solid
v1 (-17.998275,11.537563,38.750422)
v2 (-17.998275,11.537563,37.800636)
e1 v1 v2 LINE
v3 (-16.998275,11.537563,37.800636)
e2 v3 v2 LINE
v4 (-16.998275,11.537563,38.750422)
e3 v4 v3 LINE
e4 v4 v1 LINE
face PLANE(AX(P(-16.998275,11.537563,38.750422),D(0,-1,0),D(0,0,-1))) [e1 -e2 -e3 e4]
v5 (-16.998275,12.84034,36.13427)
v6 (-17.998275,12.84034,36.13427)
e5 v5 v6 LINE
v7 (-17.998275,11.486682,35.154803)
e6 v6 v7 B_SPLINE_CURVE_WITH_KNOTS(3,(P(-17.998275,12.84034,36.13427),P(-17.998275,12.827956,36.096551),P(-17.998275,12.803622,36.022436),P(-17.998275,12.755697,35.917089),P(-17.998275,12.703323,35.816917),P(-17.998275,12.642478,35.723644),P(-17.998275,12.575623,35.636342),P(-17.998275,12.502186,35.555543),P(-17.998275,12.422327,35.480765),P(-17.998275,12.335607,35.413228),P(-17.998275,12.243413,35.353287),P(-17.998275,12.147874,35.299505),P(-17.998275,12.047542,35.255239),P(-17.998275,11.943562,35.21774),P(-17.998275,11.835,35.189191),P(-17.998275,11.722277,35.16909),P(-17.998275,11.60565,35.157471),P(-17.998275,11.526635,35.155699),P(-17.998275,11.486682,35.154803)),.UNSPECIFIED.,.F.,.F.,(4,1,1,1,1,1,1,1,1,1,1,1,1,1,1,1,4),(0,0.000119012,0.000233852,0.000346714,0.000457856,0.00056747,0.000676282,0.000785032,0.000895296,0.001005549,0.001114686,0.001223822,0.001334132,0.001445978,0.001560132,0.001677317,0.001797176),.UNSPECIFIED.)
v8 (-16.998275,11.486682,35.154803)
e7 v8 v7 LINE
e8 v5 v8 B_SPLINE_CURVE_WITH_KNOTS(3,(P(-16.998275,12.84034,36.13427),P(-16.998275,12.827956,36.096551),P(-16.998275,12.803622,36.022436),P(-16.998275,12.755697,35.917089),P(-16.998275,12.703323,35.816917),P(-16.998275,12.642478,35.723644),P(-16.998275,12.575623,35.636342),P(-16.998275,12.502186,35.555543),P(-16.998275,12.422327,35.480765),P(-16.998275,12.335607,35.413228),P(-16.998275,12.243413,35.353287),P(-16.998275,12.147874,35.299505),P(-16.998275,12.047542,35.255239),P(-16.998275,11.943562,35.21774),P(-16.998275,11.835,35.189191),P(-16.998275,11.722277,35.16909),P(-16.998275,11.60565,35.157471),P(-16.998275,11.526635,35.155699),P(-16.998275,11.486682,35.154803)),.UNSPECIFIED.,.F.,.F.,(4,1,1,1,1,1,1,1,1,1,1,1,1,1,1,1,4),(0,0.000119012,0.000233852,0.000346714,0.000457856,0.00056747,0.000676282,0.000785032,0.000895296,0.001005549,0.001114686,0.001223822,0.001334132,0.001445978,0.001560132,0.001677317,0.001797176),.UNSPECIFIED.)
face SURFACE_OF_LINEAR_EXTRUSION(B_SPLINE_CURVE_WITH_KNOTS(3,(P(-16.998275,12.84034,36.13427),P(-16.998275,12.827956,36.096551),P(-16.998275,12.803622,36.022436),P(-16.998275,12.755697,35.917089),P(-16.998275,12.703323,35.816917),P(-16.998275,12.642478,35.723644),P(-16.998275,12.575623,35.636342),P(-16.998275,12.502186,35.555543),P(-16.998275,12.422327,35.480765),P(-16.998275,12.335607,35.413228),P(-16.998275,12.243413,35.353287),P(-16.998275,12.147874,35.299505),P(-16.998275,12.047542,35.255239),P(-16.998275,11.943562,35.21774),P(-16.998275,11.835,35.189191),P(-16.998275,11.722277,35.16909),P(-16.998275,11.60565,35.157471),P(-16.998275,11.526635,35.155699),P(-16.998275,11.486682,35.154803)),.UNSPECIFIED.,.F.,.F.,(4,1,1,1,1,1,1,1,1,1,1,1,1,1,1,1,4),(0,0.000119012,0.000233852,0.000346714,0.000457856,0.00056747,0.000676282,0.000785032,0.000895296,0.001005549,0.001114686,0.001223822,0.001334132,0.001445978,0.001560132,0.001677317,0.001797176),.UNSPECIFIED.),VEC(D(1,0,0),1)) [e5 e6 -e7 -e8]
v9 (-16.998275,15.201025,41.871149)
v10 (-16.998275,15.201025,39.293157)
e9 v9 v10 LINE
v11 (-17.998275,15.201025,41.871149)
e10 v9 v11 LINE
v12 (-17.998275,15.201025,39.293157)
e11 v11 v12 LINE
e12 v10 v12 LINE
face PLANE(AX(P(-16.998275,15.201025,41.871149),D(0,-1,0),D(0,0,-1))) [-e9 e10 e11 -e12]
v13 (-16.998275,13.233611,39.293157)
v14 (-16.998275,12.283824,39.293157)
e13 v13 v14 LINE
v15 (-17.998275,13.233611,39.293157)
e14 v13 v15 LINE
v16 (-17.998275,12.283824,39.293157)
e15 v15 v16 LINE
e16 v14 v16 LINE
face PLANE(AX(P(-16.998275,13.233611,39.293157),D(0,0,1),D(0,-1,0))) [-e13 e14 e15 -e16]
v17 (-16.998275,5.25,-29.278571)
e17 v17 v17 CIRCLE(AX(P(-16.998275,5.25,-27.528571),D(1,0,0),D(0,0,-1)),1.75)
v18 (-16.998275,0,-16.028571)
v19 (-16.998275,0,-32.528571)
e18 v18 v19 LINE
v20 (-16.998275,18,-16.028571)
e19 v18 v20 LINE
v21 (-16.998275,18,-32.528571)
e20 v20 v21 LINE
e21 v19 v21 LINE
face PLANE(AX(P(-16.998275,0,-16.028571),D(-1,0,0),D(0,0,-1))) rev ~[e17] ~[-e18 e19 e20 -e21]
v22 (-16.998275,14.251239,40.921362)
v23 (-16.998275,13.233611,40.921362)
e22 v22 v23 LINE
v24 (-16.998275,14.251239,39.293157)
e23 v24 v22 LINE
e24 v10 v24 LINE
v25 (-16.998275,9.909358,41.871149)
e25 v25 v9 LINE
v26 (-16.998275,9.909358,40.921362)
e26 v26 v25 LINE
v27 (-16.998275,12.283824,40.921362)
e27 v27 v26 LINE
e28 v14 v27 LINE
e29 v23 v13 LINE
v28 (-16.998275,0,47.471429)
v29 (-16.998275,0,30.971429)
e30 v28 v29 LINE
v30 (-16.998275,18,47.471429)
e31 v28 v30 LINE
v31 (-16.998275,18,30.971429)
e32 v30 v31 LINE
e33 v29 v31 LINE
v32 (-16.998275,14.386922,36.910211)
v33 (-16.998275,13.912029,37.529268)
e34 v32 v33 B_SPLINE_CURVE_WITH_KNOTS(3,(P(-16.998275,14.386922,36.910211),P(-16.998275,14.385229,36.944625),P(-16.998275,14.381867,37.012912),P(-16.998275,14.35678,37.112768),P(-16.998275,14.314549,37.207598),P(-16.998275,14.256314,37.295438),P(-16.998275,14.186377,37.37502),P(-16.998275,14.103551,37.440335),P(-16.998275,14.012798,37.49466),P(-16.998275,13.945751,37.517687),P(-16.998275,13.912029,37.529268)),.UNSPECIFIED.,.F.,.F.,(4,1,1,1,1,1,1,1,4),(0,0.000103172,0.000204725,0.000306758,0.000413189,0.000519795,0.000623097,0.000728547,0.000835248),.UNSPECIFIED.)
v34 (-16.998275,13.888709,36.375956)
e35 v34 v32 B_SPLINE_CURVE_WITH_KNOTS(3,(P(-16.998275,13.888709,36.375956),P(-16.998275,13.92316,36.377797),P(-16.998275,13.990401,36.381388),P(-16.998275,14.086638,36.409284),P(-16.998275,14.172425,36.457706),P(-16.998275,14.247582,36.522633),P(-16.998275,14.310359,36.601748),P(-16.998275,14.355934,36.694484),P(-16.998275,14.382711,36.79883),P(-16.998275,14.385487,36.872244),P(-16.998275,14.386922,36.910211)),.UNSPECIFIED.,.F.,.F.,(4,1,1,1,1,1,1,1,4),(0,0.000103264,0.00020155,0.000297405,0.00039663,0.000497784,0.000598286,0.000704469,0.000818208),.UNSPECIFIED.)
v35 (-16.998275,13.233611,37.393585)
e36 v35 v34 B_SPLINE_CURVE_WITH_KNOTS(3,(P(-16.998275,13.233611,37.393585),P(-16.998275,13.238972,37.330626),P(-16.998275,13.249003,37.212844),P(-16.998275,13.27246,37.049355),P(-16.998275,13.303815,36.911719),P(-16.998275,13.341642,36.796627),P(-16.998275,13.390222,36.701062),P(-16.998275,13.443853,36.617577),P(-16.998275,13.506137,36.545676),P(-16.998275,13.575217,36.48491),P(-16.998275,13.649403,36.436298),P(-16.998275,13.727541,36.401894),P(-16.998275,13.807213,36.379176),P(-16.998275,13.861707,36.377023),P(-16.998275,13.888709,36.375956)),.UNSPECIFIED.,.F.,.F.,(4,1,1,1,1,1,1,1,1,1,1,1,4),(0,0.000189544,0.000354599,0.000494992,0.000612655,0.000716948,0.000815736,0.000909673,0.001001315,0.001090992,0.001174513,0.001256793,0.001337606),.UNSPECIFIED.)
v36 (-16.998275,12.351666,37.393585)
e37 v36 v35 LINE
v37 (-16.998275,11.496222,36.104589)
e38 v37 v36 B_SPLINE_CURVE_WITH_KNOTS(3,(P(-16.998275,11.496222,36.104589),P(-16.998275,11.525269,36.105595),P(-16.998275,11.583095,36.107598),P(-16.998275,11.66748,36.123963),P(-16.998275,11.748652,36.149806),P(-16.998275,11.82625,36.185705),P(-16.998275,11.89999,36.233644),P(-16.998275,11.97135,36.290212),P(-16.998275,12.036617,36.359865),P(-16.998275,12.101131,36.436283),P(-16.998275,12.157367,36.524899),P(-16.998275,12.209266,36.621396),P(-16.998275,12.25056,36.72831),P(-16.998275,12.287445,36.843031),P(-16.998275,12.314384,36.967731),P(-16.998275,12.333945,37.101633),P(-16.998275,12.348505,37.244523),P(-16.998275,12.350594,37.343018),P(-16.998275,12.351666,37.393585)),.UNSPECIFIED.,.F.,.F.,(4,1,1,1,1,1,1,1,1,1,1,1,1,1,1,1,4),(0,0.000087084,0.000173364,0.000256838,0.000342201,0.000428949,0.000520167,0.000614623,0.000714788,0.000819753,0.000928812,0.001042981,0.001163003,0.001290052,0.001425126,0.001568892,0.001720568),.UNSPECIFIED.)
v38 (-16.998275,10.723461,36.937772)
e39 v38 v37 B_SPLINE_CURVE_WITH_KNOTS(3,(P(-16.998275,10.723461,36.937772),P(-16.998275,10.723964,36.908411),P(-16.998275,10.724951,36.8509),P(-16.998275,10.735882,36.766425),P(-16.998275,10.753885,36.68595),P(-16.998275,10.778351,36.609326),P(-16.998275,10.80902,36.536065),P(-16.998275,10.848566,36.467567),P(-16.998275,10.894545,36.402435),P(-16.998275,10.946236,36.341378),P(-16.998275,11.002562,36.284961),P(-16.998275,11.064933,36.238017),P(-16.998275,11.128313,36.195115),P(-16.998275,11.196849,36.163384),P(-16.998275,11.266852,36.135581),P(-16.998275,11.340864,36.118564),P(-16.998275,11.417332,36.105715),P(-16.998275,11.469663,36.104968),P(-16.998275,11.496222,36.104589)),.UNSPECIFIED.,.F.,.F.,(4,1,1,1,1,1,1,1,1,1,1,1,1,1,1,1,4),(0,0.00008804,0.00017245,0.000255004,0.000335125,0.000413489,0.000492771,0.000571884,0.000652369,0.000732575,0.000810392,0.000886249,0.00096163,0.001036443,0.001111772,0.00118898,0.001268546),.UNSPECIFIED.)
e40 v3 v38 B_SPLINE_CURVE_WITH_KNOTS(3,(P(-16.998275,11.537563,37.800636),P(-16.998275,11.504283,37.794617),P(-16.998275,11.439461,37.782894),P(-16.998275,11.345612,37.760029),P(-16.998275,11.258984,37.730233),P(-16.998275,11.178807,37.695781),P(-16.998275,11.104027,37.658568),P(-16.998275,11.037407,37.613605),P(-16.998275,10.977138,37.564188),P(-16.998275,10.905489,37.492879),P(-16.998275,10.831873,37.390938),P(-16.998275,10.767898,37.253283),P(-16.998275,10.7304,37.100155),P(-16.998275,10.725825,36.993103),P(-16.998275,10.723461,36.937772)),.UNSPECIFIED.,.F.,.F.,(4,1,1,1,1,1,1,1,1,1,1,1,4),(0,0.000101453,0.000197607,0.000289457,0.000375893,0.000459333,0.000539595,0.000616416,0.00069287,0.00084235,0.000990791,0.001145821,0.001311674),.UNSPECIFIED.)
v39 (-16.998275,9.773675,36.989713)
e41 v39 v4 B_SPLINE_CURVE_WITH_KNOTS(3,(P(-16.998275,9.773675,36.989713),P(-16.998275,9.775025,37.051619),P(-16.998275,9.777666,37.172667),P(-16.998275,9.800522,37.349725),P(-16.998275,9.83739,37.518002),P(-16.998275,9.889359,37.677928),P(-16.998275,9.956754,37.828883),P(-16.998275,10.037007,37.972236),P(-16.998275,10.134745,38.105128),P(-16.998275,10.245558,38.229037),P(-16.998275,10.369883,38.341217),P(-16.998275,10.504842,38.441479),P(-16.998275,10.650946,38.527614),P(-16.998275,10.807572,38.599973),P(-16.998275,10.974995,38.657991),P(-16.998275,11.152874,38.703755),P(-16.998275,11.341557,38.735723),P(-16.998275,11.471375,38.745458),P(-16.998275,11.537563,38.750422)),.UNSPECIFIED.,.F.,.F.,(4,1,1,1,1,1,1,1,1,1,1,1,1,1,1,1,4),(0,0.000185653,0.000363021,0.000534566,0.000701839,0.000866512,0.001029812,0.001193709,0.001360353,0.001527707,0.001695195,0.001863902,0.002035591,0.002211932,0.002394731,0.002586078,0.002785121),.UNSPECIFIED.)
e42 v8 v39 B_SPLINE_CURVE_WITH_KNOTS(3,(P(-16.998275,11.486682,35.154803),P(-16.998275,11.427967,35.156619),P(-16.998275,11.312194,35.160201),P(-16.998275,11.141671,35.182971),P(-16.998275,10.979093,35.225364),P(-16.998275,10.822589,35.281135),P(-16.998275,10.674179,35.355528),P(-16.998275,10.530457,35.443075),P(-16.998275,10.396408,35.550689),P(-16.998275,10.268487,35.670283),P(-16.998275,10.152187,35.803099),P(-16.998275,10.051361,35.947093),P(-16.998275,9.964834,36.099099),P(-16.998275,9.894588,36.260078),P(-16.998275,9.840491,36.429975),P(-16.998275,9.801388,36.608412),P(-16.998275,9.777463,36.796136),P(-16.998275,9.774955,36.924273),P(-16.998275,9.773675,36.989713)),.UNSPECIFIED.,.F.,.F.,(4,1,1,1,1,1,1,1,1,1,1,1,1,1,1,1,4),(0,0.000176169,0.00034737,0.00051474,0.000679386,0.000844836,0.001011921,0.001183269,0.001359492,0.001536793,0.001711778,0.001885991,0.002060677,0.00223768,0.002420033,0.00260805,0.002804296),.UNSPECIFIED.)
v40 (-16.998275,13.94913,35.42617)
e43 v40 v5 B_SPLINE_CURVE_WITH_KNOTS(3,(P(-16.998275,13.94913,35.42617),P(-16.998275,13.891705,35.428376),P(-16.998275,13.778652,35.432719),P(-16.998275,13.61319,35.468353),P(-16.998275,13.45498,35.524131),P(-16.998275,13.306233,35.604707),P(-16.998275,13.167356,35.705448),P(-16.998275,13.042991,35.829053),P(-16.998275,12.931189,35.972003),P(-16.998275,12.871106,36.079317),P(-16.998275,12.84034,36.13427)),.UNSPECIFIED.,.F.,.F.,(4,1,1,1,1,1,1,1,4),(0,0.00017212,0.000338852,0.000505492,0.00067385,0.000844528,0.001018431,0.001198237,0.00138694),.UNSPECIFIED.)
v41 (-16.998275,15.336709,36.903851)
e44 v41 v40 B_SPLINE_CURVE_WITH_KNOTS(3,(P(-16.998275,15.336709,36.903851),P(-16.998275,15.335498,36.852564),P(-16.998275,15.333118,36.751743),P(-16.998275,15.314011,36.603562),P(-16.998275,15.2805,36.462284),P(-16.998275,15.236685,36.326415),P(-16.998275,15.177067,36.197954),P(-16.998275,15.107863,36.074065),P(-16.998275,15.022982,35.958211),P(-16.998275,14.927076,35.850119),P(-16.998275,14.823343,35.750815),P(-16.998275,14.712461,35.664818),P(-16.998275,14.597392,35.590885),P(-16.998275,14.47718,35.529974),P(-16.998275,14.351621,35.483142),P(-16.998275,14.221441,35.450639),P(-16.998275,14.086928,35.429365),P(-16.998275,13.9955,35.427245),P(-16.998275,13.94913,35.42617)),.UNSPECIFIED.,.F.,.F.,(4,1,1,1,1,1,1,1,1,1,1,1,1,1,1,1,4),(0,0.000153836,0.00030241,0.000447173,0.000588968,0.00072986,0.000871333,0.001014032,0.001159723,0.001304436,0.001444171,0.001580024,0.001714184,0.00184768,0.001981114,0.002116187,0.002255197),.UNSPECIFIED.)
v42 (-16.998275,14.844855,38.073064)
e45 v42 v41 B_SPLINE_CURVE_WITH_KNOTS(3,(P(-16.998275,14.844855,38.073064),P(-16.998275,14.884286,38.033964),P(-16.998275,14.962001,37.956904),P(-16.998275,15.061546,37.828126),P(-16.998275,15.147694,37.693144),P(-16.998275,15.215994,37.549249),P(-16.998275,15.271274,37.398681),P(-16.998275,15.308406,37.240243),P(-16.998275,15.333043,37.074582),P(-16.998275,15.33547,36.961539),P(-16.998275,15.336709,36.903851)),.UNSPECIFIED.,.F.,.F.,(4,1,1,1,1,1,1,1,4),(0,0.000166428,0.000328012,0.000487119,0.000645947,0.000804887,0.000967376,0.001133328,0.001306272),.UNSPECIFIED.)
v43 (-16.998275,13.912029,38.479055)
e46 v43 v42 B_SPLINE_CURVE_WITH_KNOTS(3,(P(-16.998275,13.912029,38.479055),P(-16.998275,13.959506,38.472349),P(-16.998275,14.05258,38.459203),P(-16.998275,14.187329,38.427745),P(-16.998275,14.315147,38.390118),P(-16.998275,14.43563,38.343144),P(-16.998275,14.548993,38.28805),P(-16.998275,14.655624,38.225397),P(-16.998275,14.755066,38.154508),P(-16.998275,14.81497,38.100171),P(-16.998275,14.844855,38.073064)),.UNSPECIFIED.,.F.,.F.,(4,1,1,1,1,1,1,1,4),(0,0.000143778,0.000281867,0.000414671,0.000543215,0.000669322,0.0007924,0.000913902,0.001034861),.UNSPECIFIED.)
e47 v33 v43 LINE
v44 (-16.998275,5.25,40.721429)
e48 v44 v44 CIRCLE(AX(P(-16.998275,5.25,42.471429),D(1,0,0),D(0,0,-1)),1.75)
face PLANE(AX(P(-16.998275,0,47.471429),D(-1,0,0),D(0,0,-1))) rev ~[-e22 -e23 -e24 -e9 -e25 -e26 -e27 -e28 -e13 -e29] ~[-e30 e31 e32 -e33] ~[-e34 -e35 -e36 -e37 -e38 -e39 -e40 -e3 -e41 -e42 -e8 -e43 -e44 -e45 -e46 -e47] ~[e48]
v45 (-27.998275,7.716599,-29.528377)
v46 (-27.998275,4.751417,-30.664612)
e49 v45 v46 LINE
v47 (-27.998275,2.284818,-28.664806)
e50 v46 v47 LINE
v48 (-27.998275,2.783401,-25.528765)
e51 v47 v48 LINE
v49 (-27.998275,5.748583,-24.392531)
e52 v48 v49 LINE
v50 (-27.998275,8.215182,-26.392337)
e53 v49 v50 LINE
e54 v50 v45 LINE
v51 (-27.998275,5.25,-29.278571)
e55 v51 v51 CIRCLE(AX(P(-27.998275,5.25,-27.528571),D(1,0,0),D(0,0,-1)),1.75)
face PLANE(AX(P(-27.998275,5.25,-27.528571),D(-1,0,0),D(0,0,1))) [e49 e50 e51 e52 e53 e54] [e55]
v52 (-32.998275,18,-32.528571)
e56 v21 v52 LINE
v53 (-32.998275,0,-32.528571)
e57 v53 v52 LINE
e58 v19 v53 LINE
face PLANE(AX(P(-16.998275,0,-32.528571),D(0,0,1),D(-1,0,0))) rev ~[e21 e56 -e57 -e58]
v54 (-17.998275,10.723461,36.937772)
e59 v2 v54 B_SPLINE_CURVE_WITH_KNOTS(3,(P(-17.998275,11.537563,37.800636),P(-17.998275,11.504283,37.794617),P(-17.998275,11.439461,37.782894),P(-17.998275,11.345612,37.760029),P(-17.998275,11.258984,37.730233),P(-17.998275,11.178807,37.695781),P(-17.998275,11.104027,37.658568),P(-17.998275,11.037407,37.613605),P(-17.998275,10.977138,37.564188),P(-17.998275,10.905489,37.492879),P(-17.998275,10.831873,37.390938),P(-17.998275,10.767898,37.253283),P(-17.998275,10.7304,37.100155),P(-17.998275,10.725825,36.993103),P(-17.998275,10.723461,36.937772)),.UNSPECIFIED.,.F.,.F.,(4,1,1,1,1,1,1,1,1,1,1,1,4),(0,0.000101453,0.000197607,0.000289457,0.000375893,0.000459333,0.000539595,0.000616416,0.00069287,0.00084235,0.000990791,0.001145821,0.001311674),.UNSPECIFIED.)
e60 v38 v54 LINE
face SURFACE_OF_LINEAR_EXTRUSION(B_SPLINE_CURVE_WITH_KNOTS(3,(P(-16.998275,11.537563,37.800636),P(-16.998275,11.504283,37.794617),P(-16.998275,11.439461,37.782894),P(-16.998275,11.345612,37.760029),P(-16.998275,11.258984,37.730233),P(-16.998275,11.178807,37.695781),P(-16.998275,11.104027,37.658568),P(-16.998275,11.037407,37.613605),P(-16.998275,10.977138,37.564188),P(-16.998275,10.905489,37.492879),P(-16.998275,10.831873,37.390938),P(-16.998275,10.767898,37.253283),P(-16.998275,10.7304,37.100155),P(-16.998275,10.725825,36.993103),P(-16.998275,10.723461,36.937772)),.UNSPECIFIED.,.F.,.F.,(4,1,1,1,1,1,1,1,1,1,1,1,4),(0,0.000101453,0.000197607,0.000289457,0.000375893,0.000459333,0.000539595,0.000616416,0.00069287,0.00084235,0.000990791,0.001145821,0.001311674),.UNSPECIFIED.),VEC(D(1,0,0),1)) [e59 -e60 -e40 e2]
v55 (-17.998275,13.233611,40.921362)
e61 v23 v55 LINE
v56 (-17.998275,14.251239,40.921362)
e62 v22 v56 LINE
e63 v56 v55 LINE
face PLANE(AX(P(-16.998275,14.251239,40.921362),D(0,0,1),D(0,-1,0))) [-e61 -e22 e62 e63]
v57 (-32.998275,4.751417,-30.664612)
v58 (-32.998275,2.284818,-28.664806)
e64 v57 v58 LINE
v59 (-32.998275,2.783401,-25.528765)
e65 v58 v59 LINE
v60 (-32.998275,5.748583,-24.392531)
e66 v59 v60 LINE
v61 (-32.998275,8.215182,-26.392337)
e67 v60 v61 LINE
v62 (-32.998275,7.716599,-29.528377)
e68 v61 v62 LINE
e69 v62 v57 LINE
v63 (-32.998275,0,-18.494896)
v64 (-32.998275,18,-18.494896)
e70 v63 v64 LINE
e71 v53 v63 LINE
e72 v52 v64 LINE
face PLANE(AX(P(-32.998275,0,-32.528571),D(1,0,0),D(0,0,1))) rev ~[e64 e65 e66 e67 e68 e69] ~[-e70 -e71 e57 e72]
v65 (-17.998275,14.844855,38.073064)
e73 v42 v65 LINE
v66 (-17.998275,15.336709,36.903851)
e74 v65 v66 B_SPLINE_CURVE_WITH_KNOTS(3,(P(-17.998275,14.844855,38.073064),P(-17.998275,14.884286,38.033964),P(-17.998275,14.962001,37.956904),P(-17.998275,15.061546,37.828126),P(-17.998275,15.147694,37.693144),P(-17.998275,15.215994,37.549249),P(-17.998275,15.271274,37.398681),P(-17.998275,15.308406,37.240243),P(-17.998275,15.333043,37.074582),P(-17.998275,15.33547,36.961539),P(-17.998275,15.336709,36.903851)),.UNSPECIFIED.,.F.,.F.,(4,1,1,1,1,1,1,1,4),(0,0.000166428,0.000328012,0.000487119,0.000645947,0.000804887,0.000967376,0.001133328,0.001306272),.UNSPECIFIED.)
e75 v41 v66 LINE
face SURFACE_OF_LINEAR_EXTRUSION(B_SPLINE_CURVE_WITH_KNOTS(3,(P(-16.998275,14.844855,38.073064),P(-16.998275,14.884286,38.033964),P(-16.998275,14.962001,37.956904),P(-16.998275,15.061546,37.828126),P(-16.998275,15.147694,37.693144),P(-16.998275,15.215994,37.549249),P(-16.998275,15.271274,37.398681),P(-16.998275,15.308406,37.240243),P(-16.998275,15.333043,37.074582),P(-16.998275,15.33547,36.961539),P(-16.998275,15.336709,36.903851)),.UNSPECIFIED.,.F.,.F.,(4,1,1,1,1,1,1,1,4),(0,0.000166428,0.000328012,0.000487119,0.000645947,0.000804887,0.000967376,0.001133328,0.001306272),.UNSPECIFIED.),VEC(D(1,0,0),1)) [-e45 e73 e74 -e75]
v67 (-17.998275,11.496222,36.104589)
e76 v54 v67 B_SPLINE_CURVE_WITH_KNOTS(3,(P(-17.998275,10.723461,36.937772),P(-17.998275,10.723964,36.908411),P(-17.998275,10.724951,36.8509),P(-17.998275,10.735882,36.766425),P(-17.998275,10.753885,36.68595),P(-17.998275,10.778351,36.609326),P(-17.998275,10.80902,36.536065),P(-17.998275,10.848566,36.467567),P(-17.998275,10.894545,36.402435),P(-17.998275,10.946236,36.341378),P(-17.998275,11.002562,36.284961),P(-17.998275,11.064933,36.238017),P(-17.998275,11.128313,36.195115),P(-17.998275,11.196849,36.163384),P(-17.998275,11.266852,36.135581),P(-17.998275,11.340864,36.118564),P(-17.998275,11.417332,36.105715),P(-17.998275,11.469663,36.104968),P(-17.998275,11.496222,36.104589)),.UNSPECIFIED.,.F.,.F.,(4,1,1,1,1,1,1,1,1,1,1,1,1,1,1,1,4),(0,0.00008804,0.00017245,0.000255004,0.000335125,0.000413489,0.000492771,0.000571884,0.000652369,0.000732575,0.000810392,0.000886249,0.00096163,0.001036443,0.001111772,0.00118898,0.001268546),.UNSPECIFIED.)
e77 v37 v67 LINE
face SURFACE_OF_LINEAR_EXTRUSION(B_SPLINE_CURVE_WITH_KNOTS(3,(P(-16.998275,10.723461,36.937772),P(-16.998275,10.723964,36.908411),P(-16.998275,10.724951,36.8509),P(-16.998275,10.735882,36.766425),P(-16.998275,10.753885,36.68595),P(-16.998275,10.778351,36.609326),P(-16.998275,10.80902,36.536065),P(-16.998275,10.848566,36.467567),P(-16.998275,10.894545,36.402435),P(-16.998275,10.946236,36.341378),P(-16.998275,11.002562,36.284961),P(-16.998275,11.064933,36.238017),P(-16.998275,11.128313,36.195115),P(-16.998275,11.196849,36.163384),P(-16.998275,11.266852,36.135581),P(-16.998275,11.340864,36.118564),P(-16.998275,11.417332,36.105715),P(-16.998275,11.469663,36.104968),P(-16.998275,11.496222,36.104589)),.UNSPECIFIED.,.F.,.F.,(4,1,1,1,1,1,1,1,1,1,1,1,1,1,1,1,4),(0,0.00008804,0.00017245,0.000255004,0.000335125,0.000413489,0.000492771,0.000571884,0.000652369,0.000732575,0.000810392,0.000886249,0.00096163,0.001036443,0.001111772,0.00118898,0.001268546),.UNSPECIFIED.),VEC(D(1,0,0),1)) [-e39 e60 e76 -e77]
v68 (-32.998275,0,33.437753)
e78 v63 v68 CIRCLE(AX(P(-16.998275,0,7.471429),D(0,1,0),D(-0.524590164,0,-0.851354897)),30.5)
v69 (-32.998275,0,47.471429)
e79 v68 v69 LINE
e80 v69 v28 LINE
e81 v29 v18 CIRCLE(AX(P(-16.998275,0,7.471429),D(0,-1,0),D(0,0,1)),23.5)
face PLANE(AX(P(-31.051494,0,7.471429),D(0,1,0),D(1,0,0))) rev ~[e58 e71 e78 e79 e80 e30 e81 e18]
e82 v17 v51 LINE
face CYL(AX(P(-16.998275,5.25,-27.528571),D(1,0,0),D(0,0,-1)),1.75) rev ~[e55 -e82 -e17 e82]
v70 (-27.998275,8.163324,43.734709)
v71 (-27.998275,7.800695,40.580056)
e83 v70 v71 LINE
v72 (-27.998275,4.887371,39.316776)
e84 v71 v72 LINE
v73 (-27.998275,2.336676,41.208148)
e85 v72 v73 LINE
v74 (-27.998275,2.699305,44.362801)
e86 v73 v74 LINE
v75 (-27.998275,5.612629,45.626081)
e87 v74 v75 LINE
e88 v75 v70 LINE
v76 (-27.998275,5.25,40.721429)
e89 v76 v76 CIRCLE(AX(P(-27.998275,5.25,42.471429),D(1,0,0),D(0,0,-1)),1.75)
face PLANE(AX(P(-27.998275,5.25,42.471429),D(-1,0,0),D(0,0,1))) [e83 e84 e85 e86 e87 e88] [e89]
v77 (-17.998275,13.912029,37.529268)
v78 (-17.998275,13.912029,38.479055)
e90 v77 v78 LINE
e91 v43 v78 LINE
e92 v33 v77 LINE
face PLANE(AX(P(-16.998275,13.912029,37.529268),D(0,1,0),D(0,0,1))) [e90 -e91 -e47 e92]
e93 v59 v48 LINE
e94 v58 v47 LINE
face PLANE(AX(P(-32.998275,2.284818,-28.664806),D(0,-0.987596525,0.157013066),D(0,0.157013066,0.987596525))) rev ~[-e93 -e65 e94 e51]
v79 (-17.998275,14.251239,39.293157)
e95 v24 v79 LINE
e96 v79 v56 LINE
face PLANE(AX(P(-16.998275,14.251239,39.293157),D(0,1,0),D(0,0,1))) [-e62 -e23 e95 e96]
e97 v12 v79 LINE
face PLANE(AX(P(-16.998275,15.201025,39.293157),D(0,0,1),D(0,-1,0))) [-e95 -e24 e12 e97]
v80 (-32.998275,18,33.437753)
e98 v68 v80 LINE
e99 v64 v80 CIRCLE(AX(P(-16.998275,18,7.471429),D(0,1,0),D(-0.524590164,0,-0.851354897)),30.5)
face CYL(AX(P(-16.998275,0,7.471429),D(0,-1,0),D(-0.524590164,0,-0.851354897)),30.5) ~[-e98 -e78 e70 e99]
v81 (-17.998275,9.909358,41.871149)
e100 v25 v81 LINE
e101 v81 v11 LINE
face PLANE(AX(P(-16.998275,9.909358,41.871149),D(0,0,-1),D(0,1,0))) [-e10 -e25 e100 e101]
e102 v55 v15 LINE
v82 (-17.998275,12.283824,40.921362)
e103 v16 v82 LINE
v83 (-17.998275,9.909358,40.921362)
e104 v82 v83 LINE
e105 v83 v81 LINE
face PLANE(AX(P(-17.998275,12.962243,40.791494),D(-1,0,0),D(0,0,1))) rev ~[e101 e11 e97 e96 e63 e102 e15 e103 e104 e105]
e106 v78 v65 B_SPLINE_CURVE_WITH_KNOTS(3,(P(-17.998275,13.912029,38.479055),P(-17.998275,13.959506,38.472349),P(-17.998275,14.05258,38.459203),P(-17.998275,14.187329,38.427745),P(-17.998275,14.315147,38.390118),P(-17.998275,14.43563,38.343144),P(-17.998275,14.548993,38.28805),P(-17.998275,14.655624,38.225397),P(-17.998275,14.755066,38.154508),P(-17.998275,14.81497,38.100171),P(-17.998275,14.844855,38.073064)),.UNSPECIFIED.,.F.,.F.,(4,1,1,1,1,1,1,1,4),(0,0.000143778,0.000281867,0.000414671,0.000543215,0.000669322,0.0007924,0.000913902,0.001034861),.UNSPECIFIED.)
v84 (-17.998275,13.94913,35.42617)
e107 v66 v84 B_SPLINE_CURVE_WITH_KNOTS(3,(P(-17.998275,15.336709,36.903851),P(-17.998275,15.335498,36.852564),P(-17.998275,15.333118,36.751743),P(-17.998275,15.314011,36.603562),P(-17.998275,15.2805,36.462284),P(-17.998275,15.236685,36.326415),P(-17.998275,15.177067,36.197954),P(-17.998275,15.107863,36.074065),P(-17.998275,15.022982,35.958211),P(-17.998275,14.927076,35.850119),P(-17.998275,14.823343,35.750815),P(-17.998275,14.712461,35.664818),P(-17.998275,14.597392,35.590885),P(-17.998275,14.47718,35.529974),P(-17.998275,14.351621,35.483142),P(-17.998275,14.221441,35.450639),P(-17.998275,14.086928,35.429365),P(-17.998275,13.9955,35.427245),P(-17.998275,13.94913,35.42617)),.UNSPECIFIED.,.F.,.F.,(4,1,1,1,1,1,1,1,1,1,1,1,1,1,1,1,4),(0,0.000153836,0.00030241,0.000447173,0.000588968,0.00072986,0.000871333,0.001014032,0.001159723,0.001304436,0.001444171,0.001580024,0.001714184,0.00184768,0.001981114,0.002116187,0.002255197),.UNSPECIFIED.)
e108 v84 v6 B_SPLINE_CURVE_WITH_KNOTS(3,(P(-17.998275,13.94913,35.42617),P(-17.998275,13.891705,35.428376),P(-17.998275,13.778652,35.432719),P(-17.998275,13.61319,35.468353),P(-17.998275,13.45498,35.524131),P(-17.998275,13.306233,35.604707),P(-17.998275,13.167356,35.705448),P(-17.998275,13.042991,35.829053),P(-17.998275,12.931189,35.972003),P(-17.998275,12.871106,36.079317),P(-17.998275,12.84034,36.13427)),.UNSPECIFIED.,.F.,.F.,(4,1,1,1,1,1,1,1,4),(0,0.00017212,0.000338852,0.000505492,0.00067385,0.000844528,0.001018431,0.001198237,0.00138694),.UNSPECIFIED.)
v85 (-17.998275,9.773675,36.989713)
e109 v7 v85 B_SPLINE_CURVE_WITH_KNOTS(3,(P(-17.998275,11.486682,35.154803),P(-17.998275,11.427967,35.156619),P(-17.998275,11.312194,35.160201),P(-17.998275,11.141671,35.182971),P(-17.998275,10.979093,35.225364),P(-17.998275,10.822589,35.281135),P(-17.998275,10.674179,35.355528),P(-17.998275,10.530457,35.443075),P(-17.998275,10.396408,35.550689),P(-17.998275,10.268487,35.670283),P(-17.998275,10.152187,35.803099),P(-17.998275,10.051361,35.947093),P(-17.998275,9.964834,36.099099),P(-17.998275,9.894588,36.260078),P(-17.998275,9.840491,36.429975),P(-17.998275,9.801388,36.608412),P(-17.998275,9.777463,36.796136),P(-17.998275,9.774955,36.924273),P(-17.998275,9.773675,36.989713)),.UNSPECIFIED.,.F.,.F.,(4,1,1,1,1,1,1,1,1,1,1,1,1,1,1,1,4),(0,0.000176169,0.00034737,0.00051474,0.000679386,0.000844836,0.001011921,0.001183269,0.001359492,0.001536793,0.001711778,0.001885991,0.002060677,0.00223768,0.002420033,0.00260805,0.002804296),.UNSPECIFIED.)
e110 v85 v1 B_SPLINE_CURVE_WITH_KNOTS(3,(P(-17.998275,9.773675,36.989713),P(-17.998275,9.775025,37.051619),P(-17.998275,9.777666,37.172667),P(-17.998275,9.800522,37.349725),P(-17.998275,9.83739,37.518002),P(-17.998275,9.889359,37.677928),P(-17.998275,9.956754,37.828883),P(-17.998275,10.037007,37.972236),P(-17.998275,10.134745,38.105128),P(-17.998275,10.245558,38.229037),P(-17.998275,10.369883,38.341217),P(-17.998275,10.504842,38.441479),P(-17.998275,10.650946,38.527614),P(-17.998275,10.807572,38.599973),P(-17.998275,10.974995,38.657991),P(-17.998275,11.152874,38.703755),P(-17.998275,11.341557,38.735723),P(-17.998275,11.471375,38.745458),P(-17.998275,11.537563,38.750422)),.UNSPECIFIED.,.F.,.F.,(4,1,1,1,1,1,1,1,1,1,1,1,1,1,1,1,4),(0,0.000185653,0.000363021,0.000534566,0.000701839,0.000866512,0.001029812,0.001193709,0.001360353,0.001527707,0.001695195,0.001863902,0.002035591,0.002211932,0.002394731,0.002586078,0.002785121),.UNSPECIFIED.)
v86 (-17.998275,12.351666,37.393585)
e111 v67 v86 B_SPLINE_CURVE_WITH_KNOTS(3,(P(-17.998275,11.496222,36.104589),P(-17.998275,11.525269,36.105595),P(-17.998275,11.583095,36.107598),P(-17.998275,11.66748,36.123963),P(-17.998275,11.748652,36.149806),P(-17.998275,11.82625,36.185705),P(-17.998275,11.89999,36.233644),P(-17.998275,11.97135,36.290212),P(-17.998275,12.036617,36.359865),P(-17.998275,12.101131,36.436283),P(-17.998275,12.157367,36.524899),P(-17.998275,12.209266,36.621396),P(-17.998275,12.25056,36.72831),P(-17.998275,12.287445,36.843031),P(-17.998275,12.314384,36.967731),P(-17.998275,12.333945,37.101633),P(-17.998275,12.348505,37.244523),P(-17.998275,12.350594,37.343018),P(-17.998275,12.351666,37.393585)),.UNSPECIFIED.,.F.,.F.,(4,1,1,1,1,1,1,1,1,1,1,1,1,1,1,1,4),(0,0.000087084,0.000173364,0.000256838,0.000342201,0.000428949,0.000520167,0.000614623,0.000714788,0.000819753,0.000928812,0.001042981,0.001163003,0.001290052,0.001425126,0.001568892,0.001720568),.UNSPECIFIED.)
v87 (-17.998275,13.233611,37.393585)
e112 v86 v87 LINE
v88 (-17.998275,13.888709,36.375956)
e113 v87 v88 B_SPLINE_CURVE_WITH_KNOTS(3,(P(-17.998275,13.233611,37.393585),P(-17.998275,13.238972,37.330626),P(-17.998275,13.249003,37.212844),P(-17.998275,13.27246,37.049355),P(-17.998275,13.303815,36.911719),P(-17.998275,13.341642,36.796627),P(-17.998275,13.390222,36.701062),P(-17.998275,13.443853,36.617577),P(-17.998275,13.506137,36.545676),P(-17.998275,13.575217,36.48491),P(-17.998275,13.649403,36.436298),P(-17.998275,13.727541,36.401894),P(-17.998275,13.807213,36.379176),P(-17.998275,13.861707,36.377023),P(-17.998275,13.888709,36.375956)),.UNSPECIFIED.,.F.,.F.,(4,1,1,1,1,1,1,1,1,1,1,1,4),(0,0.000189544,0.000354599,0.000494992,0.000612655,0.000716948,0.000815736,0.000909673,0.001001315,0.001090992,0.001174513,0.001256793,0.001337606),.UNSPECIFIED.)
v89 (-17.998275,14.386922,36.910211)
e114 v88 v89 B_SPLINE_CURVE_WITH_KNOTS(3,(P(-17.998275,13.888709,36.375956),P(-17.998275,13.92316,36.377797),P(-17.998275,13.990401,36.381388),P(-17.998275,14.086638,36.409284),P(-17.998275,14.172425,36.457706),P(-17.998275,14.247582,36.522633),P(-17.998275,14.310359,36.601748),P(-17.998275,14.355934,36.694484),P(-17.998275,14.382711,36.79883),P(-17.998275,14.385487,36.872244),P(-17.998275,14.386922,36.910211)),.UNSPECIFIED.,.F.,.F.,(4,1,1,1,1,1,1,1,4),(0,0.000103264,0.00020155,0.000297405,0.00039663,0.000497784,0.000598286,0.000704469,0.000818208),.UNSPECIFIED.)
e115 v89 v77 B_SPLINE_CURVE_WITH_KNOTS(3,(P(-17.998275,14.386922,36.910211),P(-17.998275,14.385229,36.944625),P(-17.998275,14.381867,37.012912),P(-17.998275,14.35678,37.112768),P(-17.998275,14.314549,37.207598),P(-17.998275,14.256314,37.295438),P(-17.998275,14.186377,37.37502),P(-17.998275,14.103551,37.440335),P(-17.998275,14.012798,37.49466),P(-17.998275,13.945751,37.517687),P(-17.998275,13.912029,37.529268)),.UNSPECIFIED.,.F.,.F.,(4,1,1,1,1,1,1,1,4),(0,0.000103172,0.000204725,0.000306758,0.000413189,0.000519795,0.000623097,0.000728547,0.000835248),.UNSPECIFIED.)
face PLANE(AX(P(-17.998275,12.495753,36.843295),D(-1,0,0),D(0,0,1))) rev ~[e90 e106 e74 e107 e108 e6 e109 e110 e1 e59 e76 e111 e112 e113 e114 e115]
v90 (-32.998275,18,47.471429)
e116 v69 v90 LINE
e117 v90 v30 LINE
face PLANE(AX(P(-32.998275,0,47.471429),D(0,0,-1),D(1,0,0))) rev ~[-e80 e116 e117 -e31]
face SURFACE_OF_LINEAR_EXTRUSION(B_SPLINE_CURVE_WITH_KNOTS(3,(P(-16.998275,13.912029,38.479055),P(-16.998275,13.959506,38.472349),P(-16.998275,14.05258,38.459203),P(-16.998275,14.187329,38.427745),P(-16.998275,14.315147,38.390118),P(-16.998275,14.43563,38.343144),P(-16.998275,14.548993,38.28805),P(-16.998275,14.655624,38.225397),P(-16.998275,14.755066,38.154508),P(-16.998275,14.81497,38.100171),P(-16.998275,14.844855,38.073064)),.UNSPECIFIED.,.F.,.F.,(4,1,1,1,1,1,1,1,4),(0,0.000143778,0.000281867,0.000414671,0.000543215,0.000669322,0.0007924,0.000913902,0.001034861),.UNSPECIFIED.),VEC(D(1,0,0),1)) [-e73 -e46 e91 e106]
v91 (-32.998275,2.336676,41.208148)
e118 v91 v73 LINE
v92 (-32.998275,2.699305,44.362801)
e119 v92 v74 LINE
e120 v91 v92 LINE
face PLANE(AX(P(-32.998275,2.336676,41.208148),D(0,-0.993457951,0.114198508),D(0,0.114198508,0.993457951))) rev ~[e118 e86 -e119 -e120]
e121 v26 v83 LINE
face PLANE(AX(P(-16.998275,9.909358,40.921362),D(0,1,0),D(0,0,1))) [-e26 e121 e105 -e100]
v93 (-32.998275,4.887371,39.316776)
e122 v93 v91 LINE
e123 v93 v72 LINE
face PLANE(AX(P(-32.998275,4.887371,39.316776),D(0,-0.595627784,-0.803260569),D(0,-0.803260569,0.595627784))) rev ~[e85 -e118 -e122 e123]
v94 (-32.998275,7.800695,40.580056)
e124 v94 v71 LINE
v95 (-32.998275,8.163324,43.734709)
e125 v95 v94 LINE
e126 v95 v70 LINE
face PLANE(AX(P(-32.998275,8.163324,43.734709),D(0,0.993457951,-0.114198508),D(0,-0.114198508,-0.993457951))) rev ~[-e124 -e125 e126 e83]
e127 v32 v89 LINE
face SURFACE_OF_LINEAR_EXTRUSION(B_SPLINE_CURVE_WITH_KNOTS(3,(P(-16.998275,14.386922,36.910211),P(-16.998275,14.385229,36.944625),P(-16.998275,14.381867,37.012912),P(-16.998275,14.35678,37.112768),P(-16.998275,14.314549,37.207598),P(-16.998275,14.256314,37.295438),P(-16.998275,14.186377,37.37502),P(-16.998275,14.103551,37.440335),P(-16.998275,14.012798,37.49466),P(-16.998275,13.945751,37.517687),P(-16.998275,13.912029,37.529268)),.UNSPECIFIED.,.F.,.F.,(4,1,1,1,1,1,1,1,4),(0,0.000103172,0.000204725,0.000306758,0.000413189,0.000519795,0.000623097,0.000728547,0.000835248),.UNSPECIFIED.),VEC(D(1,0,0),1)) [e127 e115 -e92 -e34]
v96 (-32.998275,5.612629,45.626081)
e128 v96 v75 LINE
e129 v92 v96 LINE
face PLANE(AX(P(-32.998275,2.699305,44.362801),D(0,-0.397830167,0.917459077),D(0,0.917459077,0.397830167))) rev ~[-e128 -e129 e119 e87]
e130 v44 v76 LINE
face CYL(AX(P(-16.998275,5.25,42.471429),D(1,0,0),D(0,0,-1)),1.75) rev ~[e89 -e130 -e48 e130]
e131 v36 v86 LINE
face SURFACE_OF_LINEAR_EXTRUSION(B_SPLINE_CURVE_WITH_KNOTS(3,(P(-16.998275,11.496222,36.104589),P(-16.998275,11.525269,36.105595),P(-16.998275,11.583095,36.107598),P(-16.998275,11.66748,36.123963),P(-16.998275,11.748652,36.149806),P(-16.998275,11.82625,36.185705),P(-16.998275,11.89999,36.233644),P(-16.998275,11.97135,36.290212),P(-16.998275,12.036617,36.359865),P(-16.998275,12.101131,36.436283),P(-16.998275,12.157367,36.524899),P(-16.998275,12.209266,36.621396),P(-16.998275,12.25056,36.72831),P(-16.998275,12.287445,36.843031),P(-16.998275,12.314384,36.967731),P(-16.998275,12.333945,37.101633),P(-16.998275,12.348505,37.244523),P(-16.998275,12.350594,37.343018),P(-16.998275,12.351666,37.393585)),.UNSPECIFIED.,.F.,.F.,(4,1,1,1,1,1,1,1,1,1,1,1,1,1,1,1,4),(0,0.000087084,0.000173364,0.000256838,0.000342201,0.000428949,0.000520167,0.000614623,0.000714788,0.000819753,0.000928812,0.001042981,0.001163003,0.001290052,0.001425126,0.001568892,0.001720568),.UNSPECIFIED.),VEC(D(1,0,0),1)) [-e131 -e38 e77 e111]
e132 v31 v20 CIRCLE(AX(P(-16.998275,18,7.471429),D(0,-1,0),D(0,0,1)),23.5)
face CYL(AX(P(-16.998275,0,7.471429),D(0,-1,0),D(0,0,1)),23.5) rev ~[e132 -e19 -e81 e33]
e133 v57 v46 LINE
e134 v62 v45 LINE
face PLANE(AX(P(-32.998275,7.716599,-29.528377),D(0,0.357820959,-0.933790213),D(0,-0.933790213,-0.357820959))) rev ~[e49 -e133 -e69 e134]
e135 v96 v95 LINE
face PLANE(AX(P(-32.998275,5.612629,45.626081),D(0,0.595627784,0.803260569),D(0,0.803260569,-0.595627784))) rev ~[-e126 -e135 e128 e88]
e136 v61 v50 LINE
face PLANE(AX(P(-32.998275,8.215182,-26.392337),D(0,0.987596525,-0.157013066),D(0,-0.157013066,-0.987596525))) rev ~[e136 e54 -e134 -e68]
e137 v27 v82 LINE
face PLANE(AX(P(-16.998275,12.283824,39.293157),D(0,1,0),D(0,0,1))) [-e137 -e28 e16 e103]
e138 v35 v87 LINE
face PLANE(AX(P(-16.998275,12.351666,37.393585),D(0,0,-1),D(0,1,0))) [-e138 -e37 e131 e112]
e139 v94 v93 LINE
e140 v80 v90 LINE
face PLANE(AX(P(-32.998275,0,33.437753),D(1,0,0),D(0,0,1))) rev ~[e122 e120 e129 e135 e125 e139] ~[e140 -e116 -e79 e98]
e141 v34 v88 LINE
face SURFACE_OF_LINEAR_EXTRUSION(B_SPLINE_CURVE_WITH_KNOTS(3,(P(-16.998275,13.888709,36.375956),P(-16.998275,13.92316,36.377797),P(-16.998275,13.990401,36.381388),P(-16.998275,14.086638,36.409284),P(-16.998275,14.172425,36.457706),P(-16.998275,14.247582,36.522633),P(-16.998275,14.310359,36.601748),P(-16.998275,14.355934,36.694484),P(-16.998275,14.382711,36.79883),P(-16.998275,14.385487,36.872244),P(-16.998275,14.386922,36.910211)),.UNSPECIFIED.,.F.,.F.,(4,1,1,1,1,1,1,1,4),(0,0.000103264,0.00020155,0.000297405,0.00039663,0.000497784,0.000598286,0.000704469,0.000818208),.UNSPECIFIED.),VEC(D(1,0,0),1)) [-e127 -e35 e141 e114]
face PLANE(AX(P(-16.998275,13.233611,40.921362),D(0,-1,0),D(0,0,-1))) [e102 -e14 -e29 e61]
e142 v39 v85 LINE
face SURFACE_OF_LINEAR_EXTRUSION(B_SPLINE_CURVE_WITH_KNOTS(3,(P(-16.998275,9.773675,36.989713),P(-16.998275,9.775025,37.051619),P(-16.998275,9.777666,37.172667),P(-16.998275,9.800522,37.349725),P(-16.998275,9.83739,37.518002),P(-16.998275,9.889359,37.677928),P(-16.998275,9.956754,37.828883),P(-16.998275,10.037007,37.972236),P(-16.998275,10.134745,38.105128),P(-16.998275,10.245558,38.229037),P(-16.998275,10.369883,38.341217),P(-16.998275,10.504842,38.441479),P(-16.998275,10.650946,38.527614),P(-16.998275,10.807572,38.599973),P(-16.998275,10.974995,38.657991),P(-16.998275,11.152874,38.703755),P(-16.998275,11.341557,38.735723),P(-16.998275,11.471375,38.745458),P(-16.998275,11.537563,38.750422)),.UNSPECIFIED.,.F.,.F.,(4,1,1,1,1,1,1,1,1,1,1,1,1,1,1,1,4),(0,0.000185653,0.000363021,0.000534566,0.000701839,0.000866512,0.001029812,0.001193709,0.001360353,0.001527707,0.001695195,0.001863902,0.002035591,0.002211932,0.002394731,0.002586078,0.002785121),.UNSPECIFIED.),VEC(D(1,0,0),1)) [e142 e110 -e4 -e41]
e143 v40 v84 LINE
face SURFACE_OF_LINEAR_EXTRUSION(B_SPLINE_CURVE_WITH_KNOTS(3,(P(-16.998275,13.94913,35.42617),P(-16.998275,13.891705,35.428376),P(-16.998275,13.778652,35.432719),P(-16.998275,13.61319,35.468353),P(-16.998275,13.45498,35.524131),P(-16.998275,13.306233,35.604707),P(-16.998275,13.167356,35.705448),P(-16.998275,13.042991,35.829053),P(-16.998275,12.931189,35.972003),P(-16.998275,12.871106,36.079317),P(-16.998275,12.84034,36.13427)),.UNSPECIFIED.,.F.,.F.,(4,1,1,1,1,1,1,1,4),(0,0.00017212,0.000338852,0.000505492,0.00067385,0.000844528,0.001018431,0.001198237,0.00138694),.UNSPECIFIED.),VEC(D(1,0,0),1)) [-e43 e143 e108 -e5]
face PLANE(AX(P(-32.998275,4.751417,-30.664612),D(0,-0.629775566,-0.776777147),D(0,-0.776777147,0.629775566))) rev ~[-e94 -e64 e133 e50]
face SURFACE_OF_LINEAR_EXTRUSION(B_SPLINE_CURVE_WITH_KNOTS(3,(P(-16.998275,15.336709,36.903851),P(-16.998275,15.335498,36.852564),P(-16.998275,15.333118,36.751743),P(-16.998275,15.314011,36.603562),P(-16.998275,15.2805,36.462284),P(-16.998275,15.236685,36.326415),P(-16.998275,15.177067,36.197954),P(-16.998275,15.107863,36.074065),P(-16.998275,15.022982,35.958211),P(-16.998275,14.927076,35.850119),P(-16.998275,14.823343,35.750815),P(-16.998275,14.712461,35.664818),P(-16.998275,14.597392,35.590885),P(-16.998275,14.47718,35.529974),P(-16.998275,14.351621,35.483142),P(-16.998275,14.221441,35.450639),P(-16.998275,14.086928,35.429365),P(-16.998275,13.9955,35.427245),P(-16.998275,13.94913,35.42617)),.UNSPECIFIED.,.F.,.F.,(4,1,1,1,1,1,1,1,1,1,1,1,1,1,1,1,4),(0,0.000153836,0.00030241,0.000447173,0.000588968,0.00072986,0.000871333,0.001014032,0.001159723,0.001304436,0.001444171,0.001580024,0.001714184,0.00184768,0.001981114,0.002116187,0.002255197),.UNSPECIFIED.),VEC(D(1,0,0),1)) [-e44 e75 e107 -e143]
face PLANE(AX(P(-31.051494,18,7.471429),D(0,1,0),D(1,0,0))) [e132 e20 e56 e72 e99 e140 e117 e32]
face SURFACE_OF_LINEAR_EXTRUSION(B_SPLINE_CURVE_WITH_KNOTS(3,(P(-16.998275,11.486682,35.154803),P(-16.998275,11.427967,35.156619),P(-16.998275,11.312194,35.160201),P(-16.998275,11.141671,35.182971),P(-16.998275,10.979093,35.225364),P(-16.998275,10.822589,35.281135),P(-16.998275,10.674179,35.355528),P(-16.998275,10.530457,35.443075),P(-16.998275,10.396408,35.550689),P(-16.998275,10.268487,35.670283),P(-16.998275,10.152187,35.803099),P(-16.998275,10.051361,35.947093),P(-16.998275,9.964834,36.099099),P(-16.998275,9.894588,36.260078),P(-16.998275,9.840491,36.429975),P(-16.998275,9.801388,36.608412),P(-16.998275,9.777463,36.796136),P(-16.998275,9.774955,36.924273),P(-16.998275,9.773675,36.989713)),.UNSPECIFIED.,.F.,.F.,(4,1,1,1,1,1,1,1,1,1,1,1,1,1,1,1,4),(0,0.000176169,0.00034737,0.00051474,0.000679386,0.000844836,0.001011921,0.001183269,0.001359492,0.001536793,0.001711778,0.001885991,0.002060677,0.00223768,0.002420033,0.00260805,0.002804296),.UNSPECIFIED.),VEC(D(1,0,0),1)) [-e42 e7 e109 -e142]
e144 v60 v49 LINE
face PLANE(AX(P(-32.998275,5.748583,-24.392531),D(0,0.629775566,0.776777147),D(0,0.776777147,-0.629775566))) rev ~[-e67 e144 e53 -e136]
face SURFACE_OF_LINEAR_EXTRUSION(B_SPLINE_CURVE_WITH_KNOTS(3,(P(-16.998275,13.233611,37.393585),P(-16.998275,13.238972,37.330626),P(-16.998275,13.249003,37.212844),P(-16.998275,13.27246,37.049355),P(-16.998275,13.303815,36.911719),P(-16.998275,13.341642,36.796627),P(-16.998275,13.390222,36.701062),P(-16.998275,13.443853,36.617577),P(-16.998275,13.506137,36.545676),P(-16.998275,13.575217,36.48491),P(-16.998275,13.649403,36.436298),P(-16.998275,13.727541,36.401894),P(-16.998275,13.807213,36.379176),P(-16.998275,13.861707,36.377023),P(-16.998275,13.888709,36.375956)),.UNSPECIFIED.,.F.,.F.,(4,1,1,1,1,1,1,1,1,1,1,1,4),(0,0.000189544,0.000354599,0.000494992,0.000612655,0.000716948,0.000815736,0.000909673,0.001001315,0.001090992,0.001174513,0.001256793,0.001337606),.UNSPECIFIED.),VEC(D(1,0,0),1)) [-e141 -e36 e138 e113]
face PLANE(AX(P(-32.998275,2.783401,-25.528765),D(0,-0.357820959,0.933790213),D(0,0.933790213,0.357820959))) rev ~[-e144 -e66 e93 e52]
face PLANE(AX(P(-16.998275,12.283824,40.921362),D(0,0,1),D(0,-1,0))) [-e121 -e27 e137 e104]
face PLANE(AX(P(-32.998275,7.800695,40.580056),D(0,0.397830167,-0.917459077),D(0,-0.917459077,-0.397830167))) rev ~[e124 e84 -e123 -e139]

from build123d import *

# Parameters (mm, degrees)
BOSS_EXTRUDE1_DEPTH = 18
SKETCH2_R           = 1.75
CUT_EXTRUDE1_DEPTH  = 31.5
CUT_EXTRUDE2_DEPTH  = 1
CUT_EXTRUDE3_DEPTH  = 5


with BuildPart() as part:
    # Sketch1 → Boss-Extrude1 (new body)
    with BuildSketch(Plane(origin=(0, 0, 0), x_dir=(1, 0, 0), z_dir=(0, 1, 0))):
        with BuildLine():
            Line((-16.998275301, 32.528571429), (-32.998275301, 32.528571429))
            Line((-32.998275301, 32.528571429), (-32.998275301, 18.494895774))
            ThreePointArc((-32.998275301, 18.494895774), (-47.498275301, -7.471428571), (-32.998275301, -33.437752917))
            Line((-32.998275301, -33.437752917), (-32.998275301, -47.471428571))
            Line((-32.998275301, -47.471428571), (-16.998275301, -47.471428571))
            Line((-16.998275301, -47.471428571), (-16.998275301, -30.971428571))
            ThreePointArc((-16.998275301, -30.971428571), (-40.498275301, -7.471428571), (-16.998275301, 16.028571429))
            Line((-16.998275301, 16.028571429), (-16.998275301, 32.528571429))
        make_face()
    extrude(amount=BOSS_EXTRUDE1_DEPTH)

    # Sketch2 → Cut-Extrude1 (cut, through all)
    with BuildSketch(Plane(origin=(-16.998275301, 0, 0), x_dir=(0, 0, -1), z_dir=(1, 0, 0))):
        with Locations((-42.471428571, 5.25)):
            Circle(SKETCH2_R)
        with Locations((27.528571429, 5.25)):
            Circle(SKETCH2_R)
    extrude(amount=-CUT_EXTRUDE1_DEPTH, mode=Mode.SUBTRACT)

    # Sketch3 → Cut-Extrude2 (cut)
    with BuildSketch(Plane(origin=(-16.998275301, 0, 0), x_dir=(0, 0, -1), z_dir=(1, 0, 0))):
        Polygon((-41.871148795, 15.201025034), (-39.293157342, 15.201025034), (-39.293157342, 14.251238709), (-40.92136247, 14.251238709), (-40.92136247, 13.233610504), (-39.293157342, 13.233610504), (-39.293157342, 12.283824179), (-40.92136247, 12.283824179), (-40.92136247, 9.909358367), (-41.871148795, 9.909358367), align=None)
        with BuildLine():
            Line((-37.529268453, 13.912029308), (-38.479054777, 13.912029308))
            add(Edge.make_bspline(
                [(-38.479054777, 13.912029308), (-38.472348925, 13.959505738), (-38.459202545, 14.052580134), (-38.427745016, 14.187328674), (-38.390118416, 14.315146885), (-38.34314353, 14.435629995), (-38.288049629, 14.548992623), (-38.225396959, 14.655623774), (-38.154508221, 14.755065768), (-38.100171252, 14.814970019), (-38.073063525, 14.844855162)],
                knots=[0, 0, 0, 0, 0.000143778, 0.000281867, 0.000414671, 0.000543215, 0.000669322, 0.0007924, 0.000913902, 0.001034861, 0.001034861, 0.001034861, 0.001034861], degree=3))
            add(Edge.make_bspline(
                [(-38.073063525, 14.844855162), (-38.033964221, 14.884286443), (-37.956903602, 14.962001353), (-37.82812627, 15.061545568), (-37.693143844, 15.147694317), (-37.549249192, 15.215993668), (-37.398681424, 15.27127408), (-37.240243172, 15.308406058), (-37.074581872, 15.333043453), (-36.961538875, 15.335470322), (-36.903851118, 15.336708795)],
                knots=[0, 0, 0, 0, 0.000166428, 0.000328012, 0.000487119, 0.000645947, 0.000804887, 0.000967376, 0.001133328, 0.001306272, 0.001306272, 0.001306272, 0.001306272], degree=3))
            add(Edge.make_bspline(
                [(-36.903851118, 15.336708795), (-36.852563734, 15.335498), (-36.751743072, 15.333117822), (-36.603562067, 15.314011042), (-36.462283879, 15.280499879), (-36.326415158, 15.236684784), (-36.197954088, 15.177067025), (-36.07406541, 15.107863497), (-35.958210577, 15.022982493), (-35.850118512, 14.927075501), (-35.750815335, 14.8233427), (-35.664818348, 14.712460867), (-35.590885195, 14.597391911), (-35.529974057, 14.477179826), (-35.483141668, 14.3516212), (-35.450638602, 14.221441367), (-35.429364556, 14.08692758), (-35.427245105, 13.99550037), (-35.426170162, 13.949130336)],
                knots=[0, 0, 0, 0, 0.000153836, 0.00030241, 0.000447173, 0.000588968, 0.00072986, 0.000871333, 0.001014032, 0.001159723, 0.001304436, 0.001444171, 0.001580024, 0.001714184, 0.00184768, 0.001981114, 0.002116187, 0.002255197, 0.002255197, 0.002255197, 0.002255197], degree=3))
            add(Edge.make_bspline(
                [(-35.426170162, 13.949130336), (-35.428376009, 13.89170491), (-35.432718642, 13.778651902), (-35.468353097, 13.613190424), (-35.524130708, 13.454979724), (-35.604706892, 13.306233407), (-35.705447645, 13.167356277), (-35.829053175, 13.042991412), (-35.972002875, 12.931188942), (-36.079317119, 12.87110628), (-36.134269788, 12.840339604)],
                knots=[0, 0, 0, 0, 0.00017212, 0.000338852, 0.000505492, 0.00067385, 0.000844528, 0.001018431, 0.001198237, 0.00138694, 0.00138694, 0.00138694, 0.00138694], degree=3))
            add(Edge.make_bspline(
                [(-36.134269788, 12.840339604), (-36.096551119, 12.827955771), (-36.022435626, 12.803622094), (-35.917089364, 12.755697192), (-35.816917106, 12.703323219), (-35.723643783, 12.642478468), (-35.636341679, 12.575623232), (-35.555542998, 12.502186007), (-35.480764986, 12.422326922), (-35.413228364, 12.335606781), (-35.353286974, 12.243412505), (-35.299504756, 12.147873726), (-35.255238993, 12.047541582), (-35.21774038, 11.943561934), (-35.189191072, 11.835000267), (-35.169089807, 11.722277248), (-35.157470783, 11.605650007), (-35.155698684, 11.526635122), (-35.154802641, 11.486682085)],
                knots=[0, 0, 0, 0, 0.000119012, 0.000233852, 0.000346714, 0.000457856, 0.00056747, 0.000676282, 0.000785032, 0.000895296, 0.001005549, 0.001114686, 0.001223822, 0.001334132, 0.001445978, 0.001560132, 0.001677317, 0.001797176, 0.001797176, 0.001797176, 0.001797176], degree=3))
            add(Edge.make_bspline(
                [(-35.154802641, 11.486682085), (-35.156619041, 11.427967343), (-35.160200611, 11.31219383), (-35.182970562, 11.141671293), (-35.225364107, 10.979093204), (-35.281135164, 10.822588857), (-35.355527701, 10.674178666), (-35.443075211, 10.53045682), (-35.55068869, 10.396407552), (-35.670282595, 10.268486948), (-35.803098598, 10.152187262), (-35.947092752, 10.051360668), (-36.09909875, 9.964833512), (-36.260078289, 9.8945883), (-36.429975443, 9.840491454), (-36.608411526, 9.801387759), (-36.796136276, 9.777463472), (-36.924273105, 9.774955464), (-36.989713498, 9.773674607)],
                knots=[0, 0, 0, 0, 0.000176169, 0.00034737, 0.00051474, 0.000679386, 0.000844836, 0.001011921, 0.001183269, 0.001359492, 0.001536793, 0.001711778, 0.001885991, 0.002060677, 0.00223768, 0.002420033, 0.00260805, 0.002804296, 0.002804296, 0.002804296, 0.002804296], degree=3))
            add(Edge.make_bspline(
                [(-36.989713498, 9.773674607), (-37.051619054, 9.775025054), (-37.172667177, 9.777665676), (-37.349725391, 9.800521596), (-37.518002464, 9.837390049), (-37.677927841, 9.889359191), (-37.828882784, 9.956754287), (-37.972236212, 10.037006724), (-38.105127537, 10.134745277), (-38.229037432, 10.245557842), (-38.341217201, 10.369883248), (-38.441479496, 10.504841559), (-38.527613517, 10.650945966), (-38.599972501, 10.80757225), (-38.657990763, 10.974995181), (-38.703755398, 11.152874295), (-38.735722744, 11.341557113), (-38.745458467, 11.471374906), (-38.750422299, 11.537563496)],
                knots=[0, 0, 0, 0, 0.000185653, 0.000363021, 0.000534566, 0.000701839, 0.000866512, 0.001029812, 0.001193709, 0.001360353, 0.001527707, 0.001695195, 0.001863902, 0.002035591, 0.002211932, 0.002394731, 0.002586078, 0.002785121, 0.002785121, 0.002785121, 0.002785121], degree=3))
            Line((-38.750422299, 11.537563496), (-37.800635974, 11.537563496))
            add(Edge.make_bspline(
                [(-37.800635974, 11.537563496), (-37.794617277, 11.504283004), (-37.782894287, 11.439460519), (-37.760029312, 11.345611971), (-37.730233061, 11.258983964), (-37.695781181, 11.178806552), (-37.658567964, 11.104027033), (-37.613605499, 11.037407199), (-37.564188399, 10.977138049), (-37.492879164, 10.905489419), (-37.3909377, 10.831873443), (-37.253282951, 10.767897658), (-37.100155079, 10.730399988), (-36.993103425, 10.725825387), (-36.937772058, 10.723460932)],
                knots=[0, 0, 0, 0, 0.000101453, 0.000197607, 0.000289457, 0.000375893, 0.000459333, 0.000539595, 0.000616416, 0.00069287, 0.00084235, 0.000990791, 0.001145821, 0.001311674, 0.001311674, 0.001311674, 0.001311674], degree=3))
            add(Edge.make_bspline(
                [(-36.937772058, 10.723460932), (-36.90841128, 10.72396442), (-36.850900082, 10.724950642), (-36.766424697, 10.735881586), (-36.685949998, 10.753884861), (-36.609326097, 10.778350644), (-36.536065202, 10.809020032), (-36.467567036, 10.848566373), (-36.402435434, 10.89454464), (-36.341378437, 10.946236417), (-36.284960514, 11.002561951), (-36.238017483, 11.06493291), (-36.19511495, 11.128312952), (-36.163383928, 11.196848623), (-36.135580716, 11.266851971), (-36.11856373, 11.340863899), (-36.105714684, 11.417331835), (-36.104967949, 11.469663134), (-36.104588966, 11.49622235)],
                knots=[0, 0, 0, 0, 8.804e-05, 0.00017245, 0.000255004, 0.000335125, 0.000413489, 0.000492771, 0.000571884, 0.000652369, 0.000732575, 0.000810392, 0.000886249, 0.00096163, 0.001036443, 0.001111772, 0.00118898, 0.001268546, 0.001268546, 0.001268546, 0.001268546], degree=3))
            add(Edge.make_bspline(
                [(-36.104588966, 11.49622235), (-36.105595096, 11.525269377), (-36.10759807, 11.583095353), (-36.123962582, 11.667480206), (-36.149805605, 11.748651634), (-36.18570472, 11.82625017), (-36.233643988, 11.899989803), (-36.290211789, 11.971349973), (-36.35986473, 12.036616511), (-36.436283336, 12.101130505), (-36.524898897, 12.15736725), (-36.621395711, 12.209265504), (-36.728309865, 12.250560491), (-36.843031489, 12.287444563), (-36.967730649, 12.314384117), (-37.101633011, 12.333944858), (-37.244522568, 12.348504799), (-37.343018198, 12.350593662), (-37.393584692, 12.35166606)],
                knots=[0, 0, 0, 0, 8.7084e-05, 0.000173364, 0.000256838, 0.000342201, 0.000428949, 0.000520167, 0.000614623, 0.000714788, 0.000819753, 0.000928812, 0.001042981, 0.001163003, 0.001290052, 0.001425126, 0.001568892, 0.001720568, 0.001720568, 0.001720568, 0.001720568], degree=3))
            Line((-37.393584692, 12.35166606), (-37.393584692, 13.233610504))
            add(Edge.make_bspline(
                [(-37.393584692, 13.233610504), (-37.330626399, 13.238972234), (-37.212843901, 13.249002968), (-37.049355478, 13.272460189), (-36.911719301, 13.303814627), (-36.796627281, 13.34164206), (-36.701062242, 13.390222338), (-36.617577152, 13.44385282), (-36.545675843, 13.506136787), (-36.484909592, 13.57521694), (-36.436298482, 13.649402546), (-36.40189437, 13.727540541), (-36.379175692, 13.80721324), (-36.377023099, 13.861706965), (-36.375956487, 13.888708661)],
                knots=[0, 0, 0, 0, 0.000189544, 0.000354599, 0.000494992, 0.000612655, 0.000716948, 0.000815736, 0.000909673, 0.001001315, 0.001090992, 0.001174513, 0.001256793, 0.001337606, 0.001337606, 0.001337606, 0.001337606], degree=3))
            add(Edge.make_bspline(
                [(-36.375956487, 13.888708661), (-36.377796698, 13.923159894), (-36.3813884, 13.990401408), (-36.409283508, 14.086638178), (-36.457706253, 14.172425283), (-36.522632653, 14.247582201), (-36.601747728, 14.310358892), (-36.694484465, 14.355933699), (-36.798830471, 14.382710933), (-36.872243509, 14.38548683), (-36.910211295, 14.38692247)],
                knots=[0, 0, 0, 0, 0.000103264, 0.00020155, 0.000297405, 0.00039663, 0.000497784, 0.000598286, 0.000704469, 0.000818208, 0.000818208, 0.000818208, 0.000818208], degree=3))
            add(Edge.make_bspline(
                [(-36.910211295, 14.38692247), (-36.944624824, 14.385228566), (-37.012911806, 14.381867343), (-37.112767812, 14.356780059), (-37.20759775, 14.314548739), (-37.295437959, 14.256314238), (-37.375020447, 14.18637707), (-37.440334709, 14.103551012), (-37.494660015, 14.012798316), (-37.517687082, 13.945750658), (-37.529268453, 13.912029308)],
                knots=[0, 0, 0, 0, 0.000103172, 0.000204725, 0.000306758, 0.000413189, 0.000519795, 0.000623097, 0.000728547, 0.000835248, 0.000835248, 0.000835248, 0.000835248], degree=3))
        make_face()
    extrude(amount=-CUT_EXTRUDE2_DEPTH, mode=Mode.SUBTRACT)

    # Sketch4 → Cut-Extrude3 (cut)
    with BuildSketch(Plane.ZY.offset(32.998275301)):
        Polygon((-25.528765418, 2.783401278), (-24.392531269, 5.748583447), (-26.39233728, 8.215182169), (-29.528377439, 7.716598722), (-30.664611588, 4.751416553), (-28.664805577, 2.284817831), align=None)
        Polygon((44.362800811, 2.699305117), (45.626081257, 5.612628966), (43.734709018, 8.163323849), (40.580056332, 7.800694883), (39.316775886, 4.887371034), (41.208148125, 2.336676151), align=None)
    extrude(amount=-CUT_EXTRUDE3_DEPTH, mode=Mode.SUBTRACT)


solid = part.part
